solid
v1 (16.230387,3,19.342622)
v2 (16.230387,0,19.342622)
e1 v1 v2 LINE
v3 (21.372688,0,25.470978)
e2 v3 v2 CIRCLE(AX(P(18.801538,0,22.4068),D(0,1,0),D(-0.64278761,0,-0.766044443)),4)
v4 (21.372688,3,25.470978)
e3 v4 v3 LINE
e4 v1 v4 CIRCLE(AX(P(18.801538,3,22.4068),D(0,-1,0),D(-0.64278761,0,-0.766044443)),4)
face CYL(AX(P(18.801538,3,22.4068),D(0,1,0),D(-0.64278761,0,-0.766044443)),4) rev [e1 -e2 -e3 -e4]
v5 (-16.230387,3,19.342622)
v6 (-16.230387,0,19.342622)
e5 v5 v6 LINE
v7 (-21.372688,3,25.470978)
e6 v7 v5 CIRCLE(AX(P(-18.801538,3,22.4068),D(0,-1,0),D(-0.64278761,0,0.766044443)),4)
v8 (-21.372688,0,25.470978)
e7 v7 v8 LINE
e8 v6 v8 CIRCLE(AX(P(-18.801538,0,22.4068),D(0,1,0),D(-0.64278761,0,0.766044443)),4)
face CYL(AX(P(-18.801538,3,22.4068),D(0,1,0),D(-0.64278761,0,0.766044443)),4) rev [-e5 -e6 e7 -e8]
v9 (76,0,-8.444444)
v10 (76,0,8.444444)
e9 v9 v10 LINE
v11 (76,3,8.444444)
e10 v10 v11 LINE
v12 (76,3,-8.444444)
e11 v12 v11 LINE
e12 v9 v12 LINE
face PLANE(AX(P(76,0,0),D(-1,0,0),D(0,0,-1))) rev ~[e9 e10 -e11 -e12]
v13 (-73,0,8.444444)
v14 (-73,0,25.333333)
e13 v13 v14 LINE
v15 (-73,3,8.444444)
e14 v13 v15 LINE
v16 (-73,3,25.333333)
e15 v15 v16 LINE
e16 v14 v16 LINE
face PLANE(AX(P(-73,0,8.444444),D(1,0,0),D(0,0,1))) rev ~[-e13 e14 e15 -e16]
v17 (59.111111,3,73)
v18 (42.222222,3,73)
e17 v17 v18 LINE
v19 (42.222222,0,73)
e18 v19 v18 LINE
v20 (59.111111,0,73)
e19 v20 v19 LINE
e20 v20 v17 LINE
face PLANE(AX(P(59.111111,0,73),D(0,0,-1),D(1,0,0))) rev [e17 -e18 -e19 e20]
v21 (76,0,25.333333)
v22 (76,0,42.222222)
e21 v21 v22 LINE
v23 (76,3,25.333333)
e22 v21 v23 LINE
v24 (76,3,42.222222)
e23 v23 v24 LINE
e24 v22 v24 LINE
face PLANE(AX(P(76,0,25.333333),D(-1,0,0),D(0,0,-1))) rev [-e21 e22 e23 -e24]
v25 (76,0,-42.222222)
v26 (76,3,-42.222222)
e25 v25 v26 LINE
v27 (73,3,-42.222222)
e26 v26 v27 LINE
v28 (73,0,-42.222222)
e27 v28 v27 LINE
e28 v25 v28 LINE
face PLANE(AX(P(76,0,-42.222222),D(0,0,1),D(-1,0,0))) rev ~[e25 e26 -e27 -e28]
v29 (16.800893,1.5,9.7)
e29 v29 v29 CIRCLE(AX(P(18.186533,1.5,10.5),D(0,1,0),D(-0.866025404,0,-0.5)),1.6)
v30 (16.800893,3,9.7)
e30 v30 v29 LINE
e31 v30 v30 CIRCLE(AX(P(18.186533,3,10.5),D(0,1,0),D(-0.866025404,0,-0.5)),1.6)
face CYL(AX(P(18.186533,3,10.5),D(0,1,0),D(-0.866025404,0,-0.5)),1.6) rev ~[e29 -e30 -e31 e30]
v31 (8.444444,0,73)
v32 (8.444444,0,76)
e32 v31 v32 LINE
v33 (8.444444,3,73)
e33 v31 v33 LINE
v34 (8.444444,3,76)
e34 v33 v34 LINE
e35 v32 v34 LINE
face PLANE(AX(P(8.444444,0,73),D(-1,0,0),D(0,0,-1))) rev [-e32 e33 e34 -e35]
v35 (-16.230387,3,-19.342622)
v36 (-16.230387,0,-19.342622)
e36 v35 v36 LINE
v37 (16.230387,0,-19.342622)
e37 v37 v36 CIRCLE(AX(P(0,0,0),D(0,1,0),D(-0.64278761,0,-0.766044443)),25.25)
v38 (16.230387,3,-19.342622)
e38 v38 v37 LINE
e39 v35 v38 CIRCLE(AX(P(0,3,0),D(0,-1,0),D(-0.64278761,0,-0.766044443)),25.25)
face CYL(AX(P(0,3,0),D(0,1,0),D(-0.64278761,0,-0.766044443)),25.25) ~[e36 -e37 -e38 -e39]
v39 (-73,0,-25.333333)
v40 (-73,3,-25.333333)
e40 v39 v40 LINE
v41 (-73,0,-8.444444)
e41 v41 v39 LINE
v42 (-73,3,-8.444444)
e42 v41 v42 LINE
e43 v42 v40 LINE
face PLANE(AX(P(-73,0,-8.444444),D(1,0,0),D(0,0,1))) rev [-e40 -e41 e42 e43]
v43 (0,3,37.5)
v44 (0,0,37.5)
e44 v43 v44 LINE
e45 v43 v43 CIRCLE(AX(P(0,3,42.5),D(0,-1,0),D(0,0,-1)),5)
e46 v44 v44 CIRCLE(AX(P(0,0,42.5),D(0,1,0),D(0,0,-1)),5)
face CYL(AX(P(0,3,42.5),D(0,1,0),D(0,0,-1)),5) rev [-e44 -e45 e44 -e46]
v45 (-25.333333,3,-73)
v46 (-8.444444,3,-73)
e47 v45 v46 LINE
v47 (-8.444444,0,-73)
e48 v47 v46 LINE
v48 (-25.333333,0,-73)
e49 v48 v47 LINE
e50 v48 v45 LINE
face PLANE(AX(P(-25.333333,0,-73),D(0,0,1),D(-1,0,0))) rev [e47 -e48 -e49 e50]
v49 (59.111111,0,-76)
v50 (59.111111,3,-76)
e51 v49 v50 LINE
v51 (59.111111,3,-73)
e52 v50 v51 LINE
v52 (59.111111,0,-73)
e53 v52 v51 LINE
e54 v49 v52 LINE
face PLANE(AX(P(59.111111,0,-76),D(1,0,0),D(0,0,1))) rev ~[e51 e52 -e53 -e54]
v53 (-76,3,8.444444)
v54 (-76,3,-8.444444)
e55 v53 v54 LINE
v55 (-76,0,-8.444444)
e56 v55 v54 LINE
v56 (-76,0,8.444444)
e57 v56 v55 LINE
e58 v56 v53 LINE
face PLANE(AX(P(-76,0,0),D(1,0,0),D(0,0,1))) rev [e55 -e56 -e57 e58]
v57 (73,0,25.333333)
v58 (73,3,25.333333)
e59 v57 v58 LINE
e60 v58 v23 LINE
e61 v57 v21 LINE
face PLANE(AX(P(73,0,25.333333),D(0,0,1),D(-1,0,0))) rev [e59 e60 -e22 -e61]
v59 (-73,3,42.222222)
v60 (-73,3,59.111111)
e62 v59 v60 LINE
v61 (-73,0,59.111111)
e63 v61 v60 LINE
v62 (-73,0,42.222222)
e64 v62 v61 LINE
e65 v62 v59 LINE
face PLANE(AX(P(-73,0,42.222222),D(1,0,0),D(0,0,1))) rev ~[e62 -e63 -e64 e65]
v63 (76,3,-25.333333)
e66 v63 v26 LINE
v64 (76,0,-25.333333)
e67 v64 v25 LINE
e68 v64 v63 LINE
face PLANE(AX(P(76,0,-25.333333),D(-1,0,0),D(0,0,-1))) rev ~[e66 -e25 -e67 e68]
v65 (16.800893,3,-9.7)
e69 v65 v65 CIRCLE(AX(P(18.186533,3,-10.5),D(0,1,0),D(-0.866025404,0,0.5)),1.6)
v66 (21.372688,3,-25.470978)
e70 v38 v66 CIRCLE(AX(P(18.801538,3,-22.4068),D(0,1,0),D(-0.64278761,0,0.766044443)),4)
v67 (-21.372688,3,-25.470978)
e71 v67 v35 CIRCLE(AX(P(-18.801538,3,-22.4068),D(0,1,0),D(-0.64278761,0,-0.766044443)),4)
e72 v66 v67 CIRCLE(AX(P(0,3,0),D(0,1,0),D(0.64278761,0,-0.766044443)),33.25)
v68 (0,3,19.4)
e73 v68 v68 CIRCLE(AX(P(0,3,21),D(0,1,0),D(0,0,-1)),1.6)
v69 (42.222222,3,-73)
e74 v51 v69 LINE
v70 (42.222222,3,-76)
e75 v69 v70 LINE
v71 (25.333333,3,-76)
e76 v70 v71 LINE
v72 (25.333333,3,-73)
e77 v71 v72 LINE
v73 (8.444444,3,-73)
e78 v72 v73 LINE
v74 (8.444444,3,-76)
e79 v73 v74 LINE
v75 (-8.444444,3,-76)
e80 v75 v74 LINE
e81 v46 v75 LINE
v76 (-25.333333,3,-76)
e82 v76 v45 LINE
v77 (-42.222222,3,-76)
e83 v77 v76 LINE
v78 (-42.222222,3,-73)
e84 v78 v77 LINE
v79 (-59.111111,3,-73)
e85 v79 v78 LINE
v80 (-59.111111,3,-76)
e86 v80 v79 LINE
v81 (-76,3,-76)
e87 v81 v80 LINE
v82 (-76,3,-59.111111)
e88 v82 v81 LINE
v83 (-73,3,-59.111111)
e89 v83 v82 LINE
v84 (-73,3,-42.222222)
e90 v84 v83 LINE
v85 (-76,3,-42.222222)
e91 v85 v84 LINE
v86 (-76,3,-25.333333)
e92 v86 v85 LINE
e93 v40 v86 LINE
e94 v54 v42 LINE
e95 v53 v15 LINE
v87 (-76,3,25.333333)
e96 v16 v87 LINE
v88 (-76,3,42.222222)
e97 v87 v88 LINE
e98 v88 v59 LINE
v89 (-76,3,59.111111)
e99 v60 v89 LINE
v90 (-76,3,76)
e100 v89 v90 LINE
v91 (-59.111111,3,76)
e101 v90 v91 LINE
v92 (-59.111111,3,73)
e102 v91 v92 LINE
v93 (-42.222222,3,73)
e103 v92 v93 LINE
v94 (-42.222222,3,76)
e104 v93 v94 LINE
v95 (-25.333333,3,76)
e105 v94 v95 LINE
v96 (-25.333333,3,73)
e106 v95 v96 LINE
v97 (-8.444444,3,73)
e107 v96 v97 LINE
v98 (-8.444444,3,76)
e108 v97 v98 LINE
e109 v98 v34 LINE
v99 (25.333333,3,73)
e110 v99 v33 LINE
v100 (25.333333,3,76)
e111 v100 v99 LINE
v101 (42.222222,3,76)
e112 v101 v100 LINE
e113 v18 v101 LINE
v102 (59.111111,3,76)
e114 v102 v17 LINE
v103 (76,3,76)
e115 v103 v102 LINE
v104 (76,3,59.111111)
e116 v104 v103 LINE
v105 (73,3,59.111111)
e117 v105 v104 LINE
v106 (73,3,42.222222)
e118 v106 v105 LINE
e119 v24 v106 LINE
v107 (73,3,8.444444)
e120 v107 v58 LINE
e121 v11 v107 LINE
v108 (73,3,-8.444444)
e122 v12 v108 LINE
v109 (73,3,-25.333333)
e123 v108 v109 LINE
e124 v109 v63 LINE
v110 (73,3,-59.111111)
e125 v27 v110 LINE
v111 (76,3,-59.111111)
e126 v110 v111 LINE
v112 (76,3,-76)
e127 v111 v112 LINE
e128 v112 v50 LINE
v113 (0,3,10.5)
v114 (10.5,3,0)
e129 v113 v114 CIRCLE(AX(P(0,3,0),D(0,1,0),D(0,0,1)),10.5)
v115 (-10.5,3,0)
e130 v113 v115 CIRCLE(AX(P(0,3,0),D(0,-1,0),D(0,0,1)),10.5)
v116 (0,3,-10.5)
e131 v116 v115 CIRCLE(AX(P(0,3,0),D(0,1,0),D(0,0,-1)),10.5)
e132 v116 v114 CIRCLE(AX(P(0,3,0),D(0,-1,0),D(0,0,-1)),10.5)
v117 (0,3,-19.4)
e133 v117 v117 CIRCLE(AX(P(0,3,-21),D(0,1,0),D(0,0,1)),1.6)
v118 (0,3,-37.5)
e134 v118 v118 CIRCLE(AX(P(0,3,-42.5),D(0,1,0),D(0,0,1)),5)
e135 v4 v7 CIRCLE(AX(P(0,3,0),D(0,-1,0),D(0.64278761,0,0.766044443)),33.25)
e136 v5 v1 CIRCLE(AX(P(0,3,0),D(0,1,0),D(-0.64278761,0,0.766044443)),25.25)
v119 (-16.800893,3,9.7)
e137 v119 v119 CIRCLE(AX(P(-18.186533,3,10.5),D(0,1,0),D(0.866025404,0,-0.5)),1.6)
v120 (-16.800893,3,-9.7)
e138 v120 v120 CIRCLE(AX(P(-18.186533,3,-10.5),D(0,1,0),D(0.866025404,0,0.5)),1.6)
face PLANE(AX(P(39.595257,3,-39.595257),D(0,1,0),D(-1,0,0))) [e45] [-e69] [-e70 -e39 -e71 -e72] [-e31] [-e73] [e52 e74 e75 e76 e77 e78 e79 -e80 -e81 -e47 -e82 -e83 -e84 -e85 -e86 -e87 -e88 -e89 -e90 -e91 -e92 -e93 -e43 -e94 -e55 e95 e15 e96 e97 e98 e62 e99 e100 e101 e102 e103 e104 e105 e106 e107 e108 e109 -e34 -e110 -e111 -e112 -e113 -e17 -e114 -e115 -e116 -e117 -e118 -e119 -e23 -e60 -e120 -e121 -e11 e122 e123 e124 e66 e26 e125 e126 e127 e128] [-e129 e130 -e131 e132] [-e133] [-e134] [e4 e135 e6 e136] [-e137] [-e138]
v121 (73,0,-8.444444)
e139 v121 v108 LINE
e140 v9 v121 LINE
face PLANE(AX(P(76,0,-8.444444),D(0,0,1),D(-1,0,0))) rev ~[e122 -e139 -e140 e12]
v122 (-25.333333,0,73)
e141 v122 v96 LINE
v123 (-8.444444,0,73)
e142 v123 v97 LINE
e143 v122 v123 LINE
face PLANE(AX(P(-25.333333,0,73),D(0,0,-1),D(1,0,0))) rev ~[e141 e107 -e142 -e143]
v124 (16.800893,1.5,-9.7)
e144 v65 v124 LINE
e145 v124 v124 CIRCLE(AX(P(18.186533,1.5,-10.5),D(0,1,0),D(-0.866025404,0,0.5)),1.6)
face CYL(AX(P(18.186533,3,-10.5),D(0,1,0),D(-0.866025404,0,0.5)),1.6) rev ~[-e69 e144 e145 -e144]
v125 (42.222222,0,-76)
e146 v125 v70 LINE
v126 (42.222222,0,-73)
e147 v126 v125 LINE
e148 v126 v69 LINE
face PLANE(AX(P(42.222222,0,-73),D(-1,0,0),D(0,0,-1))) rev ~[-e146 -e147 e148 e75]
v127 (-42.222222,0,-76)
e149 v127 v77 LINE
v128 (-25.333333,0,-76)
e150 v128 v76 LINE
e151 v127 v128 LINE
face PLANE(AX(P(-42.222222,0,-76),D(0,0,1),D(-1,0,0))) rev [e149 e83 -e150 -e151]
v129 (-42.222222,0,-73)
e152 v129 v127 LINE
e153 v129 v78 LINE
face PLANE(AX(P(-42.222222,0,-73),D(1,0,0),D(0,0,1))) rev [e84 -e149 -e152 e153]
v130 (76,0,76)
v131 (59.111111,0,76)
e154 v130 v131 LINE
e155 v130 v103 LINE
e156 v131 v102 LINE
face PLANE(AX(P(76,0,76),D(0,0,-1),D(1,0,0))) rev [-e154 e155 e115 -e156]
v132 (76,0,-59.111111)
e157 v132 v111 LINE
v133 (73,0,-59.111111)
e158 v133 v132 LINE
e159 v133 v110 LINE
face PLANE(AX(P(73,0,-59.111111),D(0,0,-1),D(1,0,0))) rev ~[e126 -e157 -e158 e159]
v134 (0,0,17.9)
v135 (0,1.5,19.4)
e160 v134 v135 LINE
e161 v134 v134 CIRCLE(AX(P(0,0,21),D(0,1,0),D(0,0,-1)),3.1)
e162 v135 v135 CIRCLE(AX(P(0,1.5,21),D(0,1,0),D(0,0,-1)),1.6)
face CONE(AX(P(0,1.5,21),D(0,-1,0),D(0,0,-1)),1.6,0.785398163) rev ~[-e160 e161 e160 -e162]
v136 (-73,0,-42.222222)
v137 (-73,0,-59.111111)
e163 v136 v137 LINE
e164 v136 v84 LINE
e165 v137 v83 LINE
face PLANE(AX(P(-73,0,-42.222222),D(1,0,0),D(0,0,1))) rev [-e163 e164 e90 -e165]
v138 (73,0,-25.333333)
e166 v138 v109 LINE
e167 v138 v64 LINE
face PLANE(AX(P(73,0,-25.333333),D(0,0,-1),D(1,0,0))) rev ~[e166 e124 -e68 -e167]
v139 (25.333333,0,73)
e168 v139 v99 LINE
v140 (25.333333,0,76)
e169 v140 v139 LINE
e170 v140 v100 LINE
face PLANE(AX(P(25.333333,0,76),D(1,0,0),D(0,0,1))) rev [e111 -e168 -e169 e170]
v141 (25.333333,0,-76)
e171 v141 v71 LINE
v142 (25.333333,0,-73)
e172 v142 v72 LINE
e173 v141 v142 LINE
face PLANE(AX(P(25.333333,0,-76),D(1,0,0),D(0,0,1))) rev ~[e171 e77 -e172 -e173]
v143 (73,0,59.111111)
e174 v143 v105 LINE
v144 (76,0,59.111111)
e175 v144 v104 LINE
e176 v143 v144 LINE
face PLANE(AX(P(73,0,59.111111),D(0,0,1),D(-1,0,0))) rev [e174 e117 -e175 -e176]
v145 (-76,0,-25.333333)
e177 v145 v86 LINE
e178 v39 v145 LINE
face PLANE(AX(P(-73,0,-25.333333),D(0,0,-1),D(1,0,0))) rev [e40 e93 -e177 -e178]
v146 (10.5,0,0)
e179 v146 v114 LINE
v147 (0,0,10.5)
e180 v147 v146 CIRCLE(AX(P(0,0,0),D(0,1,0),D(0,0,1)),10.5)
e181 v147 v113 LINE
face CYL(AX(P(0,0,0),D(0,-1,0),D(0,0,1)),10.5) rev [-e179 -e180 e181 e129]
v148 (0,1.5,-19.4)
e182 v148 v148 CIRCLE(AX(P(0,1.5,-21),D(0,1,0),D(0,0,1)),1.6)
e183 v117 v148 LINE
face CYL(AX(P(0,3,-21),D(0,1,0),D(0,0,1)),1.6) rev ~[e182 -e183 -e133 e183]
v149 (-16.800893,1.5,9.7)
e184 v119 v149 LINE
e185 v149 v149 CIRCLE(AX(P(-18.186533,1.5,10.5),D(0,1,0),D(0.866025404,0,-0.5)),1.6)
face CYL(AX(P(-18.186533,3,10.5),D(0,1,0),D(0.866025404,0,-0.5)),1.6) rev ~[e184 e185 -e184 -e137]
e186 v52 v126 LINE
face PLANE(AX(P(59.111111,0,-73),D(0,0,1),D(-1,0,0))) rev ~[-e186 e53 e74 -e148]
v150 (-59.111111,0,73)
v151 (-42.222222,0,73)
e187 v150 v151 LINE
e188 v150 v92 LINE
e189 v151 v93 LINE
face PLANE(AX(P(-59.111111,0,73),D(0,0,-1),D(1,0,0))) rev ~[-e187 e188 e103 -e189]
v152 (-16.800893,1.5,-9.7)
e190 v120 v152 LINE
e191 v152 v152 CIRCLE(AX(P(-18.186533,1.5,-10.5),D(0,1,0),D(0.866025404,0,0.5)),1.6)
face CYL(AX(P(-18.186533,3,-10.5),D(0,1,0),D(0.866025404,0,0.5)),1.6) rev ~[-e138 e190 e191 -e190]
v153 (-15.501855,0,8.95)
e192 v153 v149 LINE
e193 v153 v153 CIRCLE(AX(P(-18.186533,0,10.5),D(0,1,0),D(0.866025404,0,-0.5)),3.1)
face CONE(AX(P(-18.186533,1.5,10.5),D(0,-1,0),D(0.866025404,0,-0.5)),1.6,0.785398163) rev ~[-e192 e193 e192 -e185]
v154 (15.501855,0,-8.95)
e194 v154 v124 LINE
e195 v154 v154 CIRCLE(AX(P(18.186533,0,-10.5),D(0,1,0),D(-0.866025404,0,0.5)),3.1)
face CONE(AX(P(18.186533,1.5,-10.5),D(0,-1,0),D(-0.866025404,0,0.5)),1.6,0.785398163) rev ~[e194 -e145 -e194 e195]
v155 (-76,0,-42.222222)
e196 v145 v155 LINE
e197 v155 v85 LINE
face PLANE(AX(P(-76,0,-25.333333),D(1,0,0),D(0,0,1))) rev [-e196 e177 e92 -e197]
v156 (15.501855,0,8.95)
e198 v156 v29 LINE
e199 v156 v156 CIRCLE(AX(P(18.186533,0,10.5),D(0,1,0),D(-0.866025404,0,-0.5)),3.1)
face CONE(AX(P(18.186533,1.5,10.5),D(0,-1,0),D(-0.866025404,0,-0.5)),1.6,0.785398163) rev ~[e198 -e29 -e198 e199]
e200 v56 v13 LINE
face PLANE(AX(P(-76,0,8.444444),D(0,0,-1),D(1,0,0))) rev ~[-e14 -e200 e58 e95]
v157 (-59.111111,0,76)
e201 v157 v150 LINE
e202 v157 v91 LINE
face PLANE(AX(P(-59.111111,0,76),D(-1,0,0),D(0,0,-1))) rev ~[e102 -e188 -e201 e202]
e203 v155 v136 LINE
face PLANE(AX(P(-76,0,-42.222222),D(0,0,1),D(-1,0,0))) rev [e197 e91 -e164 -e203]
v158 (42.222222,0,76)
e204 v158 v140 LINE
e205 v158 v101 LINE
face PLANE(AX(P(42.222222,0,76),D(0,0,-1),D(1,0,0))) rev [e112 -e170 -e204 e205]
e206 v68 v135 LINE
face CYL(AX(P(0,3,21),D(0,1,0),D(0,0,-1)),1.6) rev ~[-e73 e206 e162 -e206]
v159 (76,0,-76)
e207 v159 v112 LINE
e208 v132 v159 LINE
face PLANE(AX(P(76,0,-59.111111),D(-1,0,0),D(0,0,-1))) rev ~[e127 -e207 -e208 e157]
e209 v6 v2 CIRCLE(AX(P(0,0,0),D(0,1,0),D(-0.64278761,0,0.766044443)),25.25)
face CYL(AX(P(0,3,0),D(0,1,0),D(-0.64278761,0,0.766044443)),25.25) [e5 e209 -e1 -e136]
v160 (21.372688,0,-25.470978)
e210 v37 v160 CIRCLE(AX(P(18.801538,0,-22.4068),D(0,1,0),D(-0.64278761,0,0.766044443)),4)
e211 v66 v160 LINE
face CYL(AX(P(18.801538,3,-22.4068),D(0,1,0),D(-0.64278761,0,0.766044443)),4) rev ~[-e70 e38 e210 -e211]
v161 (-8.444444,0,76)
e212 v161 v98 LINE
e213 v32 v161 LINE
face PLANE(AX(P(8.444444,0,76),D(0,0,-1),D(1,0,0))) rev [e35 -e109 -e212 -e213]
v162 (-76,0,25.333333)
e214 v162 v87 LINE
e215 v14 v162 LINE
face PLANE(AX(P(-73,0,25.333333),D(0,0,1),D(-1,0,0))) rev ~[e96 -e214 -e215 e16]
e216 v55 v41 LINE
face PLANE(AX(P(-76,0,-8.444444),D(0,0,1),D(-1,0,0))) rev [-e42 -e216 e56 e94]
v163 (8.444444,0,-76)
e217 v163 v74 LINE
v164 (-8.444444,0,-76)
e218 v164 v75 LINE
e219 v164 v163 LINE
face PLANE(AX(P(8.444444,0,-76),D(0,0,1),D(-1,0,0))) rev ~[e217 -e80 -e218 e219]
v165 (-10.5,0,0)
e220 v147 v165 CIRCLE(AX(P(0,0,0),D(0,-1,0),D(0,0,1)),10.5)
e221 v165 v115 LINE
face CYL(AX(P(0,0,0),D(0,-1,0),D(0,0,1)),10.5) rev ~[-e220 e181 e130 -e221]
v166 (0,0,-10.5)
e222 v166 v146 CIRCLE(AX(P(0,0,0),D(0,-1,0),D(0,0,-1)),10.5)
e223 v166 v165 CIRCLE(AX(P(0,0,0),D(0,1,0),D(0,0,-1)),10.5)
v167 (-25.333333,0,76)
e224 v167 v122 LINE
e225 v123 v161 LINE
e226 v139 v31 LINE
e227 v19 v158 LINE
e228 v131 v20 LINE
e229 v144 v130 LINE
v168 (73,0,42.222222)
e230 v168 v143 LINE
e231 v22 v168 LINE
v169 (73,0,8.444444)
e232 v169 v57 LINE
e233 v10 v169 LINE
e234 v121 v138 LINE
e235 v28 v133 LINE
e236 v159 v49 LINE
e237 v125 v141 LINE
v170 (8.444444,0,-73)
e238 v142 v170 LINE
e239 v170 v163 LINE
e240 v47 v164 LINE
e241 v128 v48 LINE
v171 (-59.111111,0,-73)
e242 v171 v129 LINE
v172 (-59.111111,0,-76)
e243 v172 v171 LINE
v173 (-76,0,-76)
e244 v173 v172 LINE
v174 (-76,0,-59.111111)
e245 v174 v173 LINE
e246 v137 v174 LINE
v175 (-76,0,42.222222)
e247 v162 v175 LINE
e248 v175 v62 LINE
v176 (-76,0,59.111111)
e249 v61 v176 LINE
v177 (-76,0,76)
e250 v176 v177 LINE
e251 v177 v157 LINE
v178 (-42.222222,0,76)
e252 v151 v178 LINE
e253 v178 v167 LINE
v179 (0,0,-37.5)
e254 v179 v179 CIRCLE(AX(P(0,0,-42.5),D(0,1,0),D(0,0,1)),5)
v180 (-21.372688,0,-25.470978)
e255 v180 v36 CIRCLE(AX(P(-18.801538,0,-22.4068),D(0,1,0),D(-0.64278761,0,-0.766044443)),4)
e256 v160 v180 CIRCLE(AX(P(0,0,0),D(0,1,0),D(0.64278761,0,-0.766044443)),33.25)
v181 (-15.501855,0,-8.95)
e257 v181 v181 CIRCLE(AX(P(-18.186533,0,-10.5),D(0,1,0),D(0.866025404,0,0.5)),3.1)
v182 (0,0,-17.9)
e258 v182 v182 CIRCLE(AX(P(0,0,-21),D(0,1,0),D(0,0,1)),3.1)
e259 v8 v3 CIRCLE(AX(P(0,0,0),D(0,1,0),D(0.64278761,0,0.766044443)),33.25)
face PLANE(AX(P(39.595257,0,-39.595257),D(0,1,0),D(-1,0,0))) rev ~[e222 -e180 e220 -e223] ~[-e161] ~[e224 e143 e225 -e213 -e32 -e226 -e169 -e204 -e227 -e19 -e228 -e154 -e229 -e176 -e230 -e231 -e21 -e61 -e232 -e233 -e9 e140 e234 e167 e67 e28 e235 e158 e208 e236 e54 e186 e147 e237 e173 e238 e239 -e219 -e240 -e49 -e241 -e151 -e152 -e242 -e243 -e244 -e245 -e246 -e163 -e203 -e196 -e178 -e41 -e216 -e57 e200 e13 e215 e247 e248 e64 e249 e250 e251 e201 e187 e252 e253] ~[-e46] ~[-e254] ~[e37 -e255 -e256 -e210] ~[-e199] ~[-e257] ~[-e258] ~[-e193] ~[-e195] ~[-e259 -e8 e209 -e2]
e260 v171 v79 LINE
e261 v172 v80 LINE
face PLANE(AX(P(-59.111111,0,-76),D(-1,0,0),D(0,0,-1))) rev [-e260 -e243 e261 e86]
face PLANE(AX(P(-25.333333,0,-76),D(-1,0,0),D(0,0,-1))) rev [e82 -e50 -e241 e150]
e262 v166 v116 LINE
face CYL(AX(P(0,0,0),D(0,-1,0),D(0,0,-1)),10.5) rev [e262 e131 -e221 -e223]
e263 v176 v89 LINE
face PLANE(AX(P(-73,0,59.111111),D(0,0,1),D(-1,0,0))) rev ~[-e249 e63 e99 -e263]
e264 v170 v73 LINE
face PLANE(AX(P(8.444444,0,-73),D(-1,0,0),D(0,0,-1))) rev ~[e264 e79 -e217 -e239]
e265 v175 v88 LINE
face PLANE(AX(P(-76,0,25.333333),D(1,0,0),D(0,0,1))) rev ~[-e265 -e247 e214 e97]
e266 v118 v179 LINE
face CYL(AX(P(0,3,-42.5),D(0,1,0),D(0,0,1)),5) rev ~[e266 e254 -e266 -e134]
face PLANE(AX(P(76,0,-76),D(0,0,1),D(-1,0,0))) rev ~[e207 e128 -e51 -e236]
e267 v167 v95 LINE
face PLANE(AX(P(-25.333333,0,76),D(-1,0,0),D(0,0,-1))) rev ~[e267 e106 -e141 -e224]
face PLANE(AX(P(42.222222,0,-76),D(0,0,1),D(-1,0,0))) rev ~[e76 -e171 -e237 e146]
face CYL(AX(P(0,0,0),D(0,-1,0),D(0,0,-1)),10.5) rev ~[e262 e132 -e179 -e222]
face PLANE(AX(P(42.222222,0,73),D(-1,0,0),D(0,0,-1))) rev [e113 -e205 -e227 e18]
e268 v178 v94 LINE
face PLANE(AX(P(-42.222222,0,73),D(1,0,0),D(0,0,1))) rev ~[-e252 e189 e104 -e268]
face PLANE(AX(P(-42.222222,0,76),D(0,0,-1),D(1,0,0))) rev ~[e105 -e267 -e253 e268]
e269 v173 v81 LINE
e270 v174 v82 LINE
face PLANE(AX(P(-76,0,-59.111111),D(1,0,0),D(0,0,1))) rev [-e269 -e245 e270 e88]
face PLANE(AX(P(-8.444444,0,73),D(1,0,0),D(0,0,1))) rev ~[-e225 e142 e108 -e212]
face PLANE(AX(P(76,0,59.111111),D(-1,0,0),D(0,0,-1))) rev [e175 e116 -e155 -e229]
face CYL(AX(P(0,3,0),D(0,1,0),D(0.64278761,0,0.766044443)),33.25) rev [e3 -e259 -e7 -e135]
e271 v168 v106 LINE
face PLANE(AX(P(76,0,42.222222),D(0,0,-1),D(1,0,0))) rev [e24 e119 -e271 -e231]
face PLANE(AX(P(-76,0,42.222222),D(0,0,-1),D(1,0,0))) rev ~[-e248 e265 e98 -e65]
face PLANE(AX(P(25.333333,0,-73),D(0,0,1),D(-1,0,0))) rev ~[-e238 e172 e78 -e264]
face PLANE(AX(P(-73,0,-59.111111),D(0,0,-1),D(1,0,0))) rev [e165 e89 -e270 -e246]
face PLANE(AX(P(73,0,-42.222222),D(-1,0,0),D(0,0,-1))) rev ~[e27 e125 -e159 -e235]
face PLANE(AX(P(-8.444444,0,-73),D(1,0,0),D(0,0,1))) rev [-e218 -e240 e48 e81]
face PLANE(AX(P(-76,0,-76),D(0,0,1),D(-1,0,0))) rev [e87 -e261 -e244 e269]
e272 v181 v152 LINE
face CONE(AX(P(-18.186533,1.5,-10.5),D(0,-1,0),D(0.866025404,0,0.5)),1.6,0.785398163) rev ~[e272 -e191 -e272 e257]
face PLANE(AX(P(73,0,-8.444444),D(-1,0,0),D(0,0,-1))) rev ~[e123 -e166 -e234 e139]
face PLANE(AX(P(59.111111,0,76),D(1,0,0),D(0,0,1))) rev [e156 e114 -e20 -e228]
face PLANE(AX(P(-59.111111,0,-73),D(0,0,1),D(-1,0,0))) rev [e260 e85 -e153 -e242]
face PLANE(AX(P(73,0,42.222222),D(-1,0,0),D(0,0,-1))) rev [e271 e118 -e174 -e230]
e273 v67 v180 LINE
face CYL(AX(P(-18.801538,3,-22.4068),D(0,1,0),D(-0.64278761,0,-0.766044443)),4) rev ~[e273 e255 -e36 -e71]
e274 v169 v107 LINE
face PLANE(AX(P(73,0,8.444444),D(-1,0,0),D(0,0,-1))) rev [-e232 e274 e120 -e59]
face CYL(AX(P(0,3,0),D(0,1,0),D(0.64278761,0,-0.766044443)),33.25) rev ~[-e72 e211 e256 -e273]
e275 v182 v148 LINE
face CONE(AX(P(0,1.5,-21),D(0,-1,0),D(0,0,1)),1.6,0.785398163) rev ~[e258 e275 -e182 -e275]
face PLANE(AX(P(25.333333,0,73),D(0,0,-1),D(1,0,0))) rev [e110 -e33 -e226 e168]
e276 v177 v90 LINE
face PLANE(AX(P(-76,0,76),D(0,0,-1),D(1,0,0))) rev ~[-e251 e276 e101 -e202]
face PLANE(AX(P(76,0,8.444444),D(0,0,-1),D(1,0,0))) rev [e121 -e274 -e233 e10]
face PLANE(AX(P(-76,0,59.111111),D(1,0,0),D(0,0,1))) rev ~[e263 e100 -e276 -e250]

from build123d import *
from build123d.topology import SkipClean

# Parameters (mm, degrees)
BOSS_EXTRUDE1_DEPTH                      = 3
MIRROR1_AT_THE_SECOND_PLANE_COPY_1_DEPTH = 3
SKETCH2_R                                = 1.6
CUT_EXTRUDE1_DEPTH                       = 108.522090753
CHAMFER1_SIZE                            = 1.5
CIRPATTERN1_COUNT                        = 6
CHAMFER1_OF_CIRPATTERN1_SIZE             = 1.5
SKETCH3_R                                = 5
CUT_EXTRUDE2_DEPTH                       = 108.522090753


with BuildPart() as part:
    # Sketch1 → Boss-Extrude1 (new body)
    with BuildSketch(Plane(origin=(0, 0, 0), x_dir=(1, 0, 0), z_dir=(0, 1, 0))):
        with BuildLine():
            Line((-76, -76), (-59.111111111, -76))
            Line((-59.111111111, -76), (-59.111111111, -73))
            Line((-59.111111111, -73), (-42.222222222, -73))
            Line((-42.222222222, -73), (-42.222222222, -76))
            Line((-42.222222222, -76), (-25.333333333, -76))
            Line((-25.333333333, -76), (-25.333333333, -73))
            Line((-25.333333333, -73), (-8.444444444, -73))
            Line((-8.444444444, -73), (-8.444444444, -76))
            Line((-8.444444444, -76), (0, -76))
            Line((0, -76), (0, -10.5))
            ThreePointArc((0, -10.5), (-7.424621202, -7.424621202), (-10.5, 0))
            Line((-10.5, 0), (-76, 0))
            Line((-76, 0), (-76, -8.444444444))
            Line((-76, -8.444444444), (-73, -8.444444444))
            Line((-73, -8.444444444), (-73, -25.333333333))
            Line((-73, -25.333333333), (-76, -25.333333333))
            Line((-76, -25.333333333), (-76, -42.222222222))
            Line((-76, -42.222222222), (-73, -42.222222222))
            Line((-73, -42.222222222), (-73, -59.111111111))
            Line((-73, -59.111111111), (-76, -59.111111111))
            Line((-76, -59.111111111), (-76, -76))
        make_face()
    boss_extrude1 = extrude(amount=BOSS_EXTRUDE1_DEPTH)

    # Mirror1 at the second plane: Boss-Extrude1 across plane
    add(boss_extrude1.mirror(Plane(origin=(0, 0, 0), x_dir=(0, 0, 1), z_dir=(1, 0, 0))))



with BuildPart() as mirror1_1:
    # Mirror1: Boss-Extrude1 across plane
    add(boss_extrude1.mirror(Plane.XY))


with BuildPart() as part_1:
    with SkipClean():  # the faces are left unmerged after this step: merging them gives an invalid solid
        add(part.part)

        add(mirror1_1.part)  # Mirror1 at the second plane copy 1 merges Mirror1_1
        # Mirror1 at the second plane copy 1 sketc → Mirror1 at the second plane copy 1 (add)
        with BuildSketch(Plane(origin=(0, 0, 0), x_dir=(-1, 0, 0), z_dir=(0, 1, 0))):
            with BuildLine():
                Line((-76, -76), (-59.111111111, -76))
                Line((-59.111111111, -76), (-59.111111111, -73))
                Line((-59.111111111, -73), (-42.222222222, -73))
                Line((-42.222222222, -73), (-42.222222222, -76))
                Line((-42.222222222, -76), (-25.333333333, -76))
                Line((-25.333333333, -76), (-25.333333333, -73))
                Line((-25.333333333, -73), (-8.444444444, -73))
                Line((-8.444444444, -73), (-8.444444444, -76))
                Line((-8.444444444, -76), (0, -76))
                Line((0, -76), (0, -10.5))
                ThreePointArc((0, -10.5), (-7.424621202, -7.424621202), (-10.5, 0))
                Line((-10.5, 0), (-76, 0))
                Line((-76, 0), (-76, -8.444444444))
                Line((-76, -8.444444444), (-73, -8.444444444))
                Line((-73, -8.444444444), (-73, -25.333333333))
                Line((-73, -25.333333333), (-76, -25.333333333))
                Line((-76, -25.333333333), (-76, -42.222222222))
                Line((-76, -42.222222222), (-73, -42.222222222))
                Line((-73, -42.222222222), (-73, -59.111111111))
                Line((-73, -59.111111111), (-76, -59.111111111))
                Line((-76, -59.111111111), (-76, -76))
            make_face()
        extrude(amount=MIRROR1_AT_THE_SECOND_PLANE_COPY_1_DEPTH)

    # Sketch2 → Cut-Extrude1 (cut, through all)
    with SkipClean():  # the faces are left unmerged after this step: merging them gives an invalid solid
        with BuildSketch(Plane(origin=(0, 3, 0), x_dir=(1, 0, 0), z_dir=(0, 1, 0))):
            with Locations(Location((0, 21, 0), (0, 0, 270))):
                Circle(SKETCH2_R)
        cut_extrude1 = extrude(amount=-CUT_EXTRUDE1_DEPTH, mode=Mode.SUBTRACT)

    # Chamfer1
    chamfer1_edges = [part_1.edges().sort_by_distance(p)[0] for p in [
        (-1.6, 0, -21),
    ]]
    chamfer(chamfer1_edges, length=CHAMFER1_SIZE)

    # CirPattern1: Cut-Extrude1 ×6 about axis
    cirpattern1_axis = Axis((0, 0, 0), (0, 1, 0))
    for i in range(1, CIRPATTERN1_COUNT):
        add(cut_extrude1.rotate(cirpattern1_axis, i * 360 / CIRPATTERN1_COUNT), mode=Mode.SUBTRACT)

    # Chamfer1 of CirPattern1
    chamfer1_of_cirpattern1_edges = [part_1.edges().sort_by_distance(p)[0] for p in [
        (-18.986533479, 0, -9.114359354),
        (-17.386533479, 0, 11.885640646),
        (1.6, 0, 21),
        (18.986533479, 0, 9.114359354),
        (17.386533479, 0, -11.885640646),
    ]]
    chamfer(chamfer1_of_cirpattern1_edges, length=CHAMFER1_OF_CIRPATTERN1_SIZE)

    # Sketch3 → Cut-Extrude2 (cut, through all)
    with BuildSketch(Plane(origin=(0, 3, 0), x_dir=(1, 0, 0), z_dir=(0, 1, 0))):
        with Locations(Location((0, 42.5, 0), (0, 0, 270))):
            Circle(SKETCH3_R)
        with BuildLine():
            ThreePointArc((-21.372688022, 25.470977734), (-21.865715356, 19.835649522), (-16.230387145, 19.342622189))
            ThreePointArc((-16.230387145, 19.342622189), (0, 25.25), (16.230387145, 19.342622189))
            ThreePointArc((16.230387145, 19.342622189), (21.865715356, 19.835649522), (21.372688022, 25.470977734))
            ThreePointArc((21.372688022, 25.470977734), (0, 33.25), (-21.372688022, 25.470977734))
        make_face()
    cut_extrude2 = extrude(amount=-CUT_EXTRUDE2_DEPTH, mode=Mode.SUBTRACT)

    # Mirror2: Cut-Extrude2 across plane
    add(cut_extrude2.mirror(Plane.XY), mode=Mode.SUBTRACT)


solid = part_1.part
